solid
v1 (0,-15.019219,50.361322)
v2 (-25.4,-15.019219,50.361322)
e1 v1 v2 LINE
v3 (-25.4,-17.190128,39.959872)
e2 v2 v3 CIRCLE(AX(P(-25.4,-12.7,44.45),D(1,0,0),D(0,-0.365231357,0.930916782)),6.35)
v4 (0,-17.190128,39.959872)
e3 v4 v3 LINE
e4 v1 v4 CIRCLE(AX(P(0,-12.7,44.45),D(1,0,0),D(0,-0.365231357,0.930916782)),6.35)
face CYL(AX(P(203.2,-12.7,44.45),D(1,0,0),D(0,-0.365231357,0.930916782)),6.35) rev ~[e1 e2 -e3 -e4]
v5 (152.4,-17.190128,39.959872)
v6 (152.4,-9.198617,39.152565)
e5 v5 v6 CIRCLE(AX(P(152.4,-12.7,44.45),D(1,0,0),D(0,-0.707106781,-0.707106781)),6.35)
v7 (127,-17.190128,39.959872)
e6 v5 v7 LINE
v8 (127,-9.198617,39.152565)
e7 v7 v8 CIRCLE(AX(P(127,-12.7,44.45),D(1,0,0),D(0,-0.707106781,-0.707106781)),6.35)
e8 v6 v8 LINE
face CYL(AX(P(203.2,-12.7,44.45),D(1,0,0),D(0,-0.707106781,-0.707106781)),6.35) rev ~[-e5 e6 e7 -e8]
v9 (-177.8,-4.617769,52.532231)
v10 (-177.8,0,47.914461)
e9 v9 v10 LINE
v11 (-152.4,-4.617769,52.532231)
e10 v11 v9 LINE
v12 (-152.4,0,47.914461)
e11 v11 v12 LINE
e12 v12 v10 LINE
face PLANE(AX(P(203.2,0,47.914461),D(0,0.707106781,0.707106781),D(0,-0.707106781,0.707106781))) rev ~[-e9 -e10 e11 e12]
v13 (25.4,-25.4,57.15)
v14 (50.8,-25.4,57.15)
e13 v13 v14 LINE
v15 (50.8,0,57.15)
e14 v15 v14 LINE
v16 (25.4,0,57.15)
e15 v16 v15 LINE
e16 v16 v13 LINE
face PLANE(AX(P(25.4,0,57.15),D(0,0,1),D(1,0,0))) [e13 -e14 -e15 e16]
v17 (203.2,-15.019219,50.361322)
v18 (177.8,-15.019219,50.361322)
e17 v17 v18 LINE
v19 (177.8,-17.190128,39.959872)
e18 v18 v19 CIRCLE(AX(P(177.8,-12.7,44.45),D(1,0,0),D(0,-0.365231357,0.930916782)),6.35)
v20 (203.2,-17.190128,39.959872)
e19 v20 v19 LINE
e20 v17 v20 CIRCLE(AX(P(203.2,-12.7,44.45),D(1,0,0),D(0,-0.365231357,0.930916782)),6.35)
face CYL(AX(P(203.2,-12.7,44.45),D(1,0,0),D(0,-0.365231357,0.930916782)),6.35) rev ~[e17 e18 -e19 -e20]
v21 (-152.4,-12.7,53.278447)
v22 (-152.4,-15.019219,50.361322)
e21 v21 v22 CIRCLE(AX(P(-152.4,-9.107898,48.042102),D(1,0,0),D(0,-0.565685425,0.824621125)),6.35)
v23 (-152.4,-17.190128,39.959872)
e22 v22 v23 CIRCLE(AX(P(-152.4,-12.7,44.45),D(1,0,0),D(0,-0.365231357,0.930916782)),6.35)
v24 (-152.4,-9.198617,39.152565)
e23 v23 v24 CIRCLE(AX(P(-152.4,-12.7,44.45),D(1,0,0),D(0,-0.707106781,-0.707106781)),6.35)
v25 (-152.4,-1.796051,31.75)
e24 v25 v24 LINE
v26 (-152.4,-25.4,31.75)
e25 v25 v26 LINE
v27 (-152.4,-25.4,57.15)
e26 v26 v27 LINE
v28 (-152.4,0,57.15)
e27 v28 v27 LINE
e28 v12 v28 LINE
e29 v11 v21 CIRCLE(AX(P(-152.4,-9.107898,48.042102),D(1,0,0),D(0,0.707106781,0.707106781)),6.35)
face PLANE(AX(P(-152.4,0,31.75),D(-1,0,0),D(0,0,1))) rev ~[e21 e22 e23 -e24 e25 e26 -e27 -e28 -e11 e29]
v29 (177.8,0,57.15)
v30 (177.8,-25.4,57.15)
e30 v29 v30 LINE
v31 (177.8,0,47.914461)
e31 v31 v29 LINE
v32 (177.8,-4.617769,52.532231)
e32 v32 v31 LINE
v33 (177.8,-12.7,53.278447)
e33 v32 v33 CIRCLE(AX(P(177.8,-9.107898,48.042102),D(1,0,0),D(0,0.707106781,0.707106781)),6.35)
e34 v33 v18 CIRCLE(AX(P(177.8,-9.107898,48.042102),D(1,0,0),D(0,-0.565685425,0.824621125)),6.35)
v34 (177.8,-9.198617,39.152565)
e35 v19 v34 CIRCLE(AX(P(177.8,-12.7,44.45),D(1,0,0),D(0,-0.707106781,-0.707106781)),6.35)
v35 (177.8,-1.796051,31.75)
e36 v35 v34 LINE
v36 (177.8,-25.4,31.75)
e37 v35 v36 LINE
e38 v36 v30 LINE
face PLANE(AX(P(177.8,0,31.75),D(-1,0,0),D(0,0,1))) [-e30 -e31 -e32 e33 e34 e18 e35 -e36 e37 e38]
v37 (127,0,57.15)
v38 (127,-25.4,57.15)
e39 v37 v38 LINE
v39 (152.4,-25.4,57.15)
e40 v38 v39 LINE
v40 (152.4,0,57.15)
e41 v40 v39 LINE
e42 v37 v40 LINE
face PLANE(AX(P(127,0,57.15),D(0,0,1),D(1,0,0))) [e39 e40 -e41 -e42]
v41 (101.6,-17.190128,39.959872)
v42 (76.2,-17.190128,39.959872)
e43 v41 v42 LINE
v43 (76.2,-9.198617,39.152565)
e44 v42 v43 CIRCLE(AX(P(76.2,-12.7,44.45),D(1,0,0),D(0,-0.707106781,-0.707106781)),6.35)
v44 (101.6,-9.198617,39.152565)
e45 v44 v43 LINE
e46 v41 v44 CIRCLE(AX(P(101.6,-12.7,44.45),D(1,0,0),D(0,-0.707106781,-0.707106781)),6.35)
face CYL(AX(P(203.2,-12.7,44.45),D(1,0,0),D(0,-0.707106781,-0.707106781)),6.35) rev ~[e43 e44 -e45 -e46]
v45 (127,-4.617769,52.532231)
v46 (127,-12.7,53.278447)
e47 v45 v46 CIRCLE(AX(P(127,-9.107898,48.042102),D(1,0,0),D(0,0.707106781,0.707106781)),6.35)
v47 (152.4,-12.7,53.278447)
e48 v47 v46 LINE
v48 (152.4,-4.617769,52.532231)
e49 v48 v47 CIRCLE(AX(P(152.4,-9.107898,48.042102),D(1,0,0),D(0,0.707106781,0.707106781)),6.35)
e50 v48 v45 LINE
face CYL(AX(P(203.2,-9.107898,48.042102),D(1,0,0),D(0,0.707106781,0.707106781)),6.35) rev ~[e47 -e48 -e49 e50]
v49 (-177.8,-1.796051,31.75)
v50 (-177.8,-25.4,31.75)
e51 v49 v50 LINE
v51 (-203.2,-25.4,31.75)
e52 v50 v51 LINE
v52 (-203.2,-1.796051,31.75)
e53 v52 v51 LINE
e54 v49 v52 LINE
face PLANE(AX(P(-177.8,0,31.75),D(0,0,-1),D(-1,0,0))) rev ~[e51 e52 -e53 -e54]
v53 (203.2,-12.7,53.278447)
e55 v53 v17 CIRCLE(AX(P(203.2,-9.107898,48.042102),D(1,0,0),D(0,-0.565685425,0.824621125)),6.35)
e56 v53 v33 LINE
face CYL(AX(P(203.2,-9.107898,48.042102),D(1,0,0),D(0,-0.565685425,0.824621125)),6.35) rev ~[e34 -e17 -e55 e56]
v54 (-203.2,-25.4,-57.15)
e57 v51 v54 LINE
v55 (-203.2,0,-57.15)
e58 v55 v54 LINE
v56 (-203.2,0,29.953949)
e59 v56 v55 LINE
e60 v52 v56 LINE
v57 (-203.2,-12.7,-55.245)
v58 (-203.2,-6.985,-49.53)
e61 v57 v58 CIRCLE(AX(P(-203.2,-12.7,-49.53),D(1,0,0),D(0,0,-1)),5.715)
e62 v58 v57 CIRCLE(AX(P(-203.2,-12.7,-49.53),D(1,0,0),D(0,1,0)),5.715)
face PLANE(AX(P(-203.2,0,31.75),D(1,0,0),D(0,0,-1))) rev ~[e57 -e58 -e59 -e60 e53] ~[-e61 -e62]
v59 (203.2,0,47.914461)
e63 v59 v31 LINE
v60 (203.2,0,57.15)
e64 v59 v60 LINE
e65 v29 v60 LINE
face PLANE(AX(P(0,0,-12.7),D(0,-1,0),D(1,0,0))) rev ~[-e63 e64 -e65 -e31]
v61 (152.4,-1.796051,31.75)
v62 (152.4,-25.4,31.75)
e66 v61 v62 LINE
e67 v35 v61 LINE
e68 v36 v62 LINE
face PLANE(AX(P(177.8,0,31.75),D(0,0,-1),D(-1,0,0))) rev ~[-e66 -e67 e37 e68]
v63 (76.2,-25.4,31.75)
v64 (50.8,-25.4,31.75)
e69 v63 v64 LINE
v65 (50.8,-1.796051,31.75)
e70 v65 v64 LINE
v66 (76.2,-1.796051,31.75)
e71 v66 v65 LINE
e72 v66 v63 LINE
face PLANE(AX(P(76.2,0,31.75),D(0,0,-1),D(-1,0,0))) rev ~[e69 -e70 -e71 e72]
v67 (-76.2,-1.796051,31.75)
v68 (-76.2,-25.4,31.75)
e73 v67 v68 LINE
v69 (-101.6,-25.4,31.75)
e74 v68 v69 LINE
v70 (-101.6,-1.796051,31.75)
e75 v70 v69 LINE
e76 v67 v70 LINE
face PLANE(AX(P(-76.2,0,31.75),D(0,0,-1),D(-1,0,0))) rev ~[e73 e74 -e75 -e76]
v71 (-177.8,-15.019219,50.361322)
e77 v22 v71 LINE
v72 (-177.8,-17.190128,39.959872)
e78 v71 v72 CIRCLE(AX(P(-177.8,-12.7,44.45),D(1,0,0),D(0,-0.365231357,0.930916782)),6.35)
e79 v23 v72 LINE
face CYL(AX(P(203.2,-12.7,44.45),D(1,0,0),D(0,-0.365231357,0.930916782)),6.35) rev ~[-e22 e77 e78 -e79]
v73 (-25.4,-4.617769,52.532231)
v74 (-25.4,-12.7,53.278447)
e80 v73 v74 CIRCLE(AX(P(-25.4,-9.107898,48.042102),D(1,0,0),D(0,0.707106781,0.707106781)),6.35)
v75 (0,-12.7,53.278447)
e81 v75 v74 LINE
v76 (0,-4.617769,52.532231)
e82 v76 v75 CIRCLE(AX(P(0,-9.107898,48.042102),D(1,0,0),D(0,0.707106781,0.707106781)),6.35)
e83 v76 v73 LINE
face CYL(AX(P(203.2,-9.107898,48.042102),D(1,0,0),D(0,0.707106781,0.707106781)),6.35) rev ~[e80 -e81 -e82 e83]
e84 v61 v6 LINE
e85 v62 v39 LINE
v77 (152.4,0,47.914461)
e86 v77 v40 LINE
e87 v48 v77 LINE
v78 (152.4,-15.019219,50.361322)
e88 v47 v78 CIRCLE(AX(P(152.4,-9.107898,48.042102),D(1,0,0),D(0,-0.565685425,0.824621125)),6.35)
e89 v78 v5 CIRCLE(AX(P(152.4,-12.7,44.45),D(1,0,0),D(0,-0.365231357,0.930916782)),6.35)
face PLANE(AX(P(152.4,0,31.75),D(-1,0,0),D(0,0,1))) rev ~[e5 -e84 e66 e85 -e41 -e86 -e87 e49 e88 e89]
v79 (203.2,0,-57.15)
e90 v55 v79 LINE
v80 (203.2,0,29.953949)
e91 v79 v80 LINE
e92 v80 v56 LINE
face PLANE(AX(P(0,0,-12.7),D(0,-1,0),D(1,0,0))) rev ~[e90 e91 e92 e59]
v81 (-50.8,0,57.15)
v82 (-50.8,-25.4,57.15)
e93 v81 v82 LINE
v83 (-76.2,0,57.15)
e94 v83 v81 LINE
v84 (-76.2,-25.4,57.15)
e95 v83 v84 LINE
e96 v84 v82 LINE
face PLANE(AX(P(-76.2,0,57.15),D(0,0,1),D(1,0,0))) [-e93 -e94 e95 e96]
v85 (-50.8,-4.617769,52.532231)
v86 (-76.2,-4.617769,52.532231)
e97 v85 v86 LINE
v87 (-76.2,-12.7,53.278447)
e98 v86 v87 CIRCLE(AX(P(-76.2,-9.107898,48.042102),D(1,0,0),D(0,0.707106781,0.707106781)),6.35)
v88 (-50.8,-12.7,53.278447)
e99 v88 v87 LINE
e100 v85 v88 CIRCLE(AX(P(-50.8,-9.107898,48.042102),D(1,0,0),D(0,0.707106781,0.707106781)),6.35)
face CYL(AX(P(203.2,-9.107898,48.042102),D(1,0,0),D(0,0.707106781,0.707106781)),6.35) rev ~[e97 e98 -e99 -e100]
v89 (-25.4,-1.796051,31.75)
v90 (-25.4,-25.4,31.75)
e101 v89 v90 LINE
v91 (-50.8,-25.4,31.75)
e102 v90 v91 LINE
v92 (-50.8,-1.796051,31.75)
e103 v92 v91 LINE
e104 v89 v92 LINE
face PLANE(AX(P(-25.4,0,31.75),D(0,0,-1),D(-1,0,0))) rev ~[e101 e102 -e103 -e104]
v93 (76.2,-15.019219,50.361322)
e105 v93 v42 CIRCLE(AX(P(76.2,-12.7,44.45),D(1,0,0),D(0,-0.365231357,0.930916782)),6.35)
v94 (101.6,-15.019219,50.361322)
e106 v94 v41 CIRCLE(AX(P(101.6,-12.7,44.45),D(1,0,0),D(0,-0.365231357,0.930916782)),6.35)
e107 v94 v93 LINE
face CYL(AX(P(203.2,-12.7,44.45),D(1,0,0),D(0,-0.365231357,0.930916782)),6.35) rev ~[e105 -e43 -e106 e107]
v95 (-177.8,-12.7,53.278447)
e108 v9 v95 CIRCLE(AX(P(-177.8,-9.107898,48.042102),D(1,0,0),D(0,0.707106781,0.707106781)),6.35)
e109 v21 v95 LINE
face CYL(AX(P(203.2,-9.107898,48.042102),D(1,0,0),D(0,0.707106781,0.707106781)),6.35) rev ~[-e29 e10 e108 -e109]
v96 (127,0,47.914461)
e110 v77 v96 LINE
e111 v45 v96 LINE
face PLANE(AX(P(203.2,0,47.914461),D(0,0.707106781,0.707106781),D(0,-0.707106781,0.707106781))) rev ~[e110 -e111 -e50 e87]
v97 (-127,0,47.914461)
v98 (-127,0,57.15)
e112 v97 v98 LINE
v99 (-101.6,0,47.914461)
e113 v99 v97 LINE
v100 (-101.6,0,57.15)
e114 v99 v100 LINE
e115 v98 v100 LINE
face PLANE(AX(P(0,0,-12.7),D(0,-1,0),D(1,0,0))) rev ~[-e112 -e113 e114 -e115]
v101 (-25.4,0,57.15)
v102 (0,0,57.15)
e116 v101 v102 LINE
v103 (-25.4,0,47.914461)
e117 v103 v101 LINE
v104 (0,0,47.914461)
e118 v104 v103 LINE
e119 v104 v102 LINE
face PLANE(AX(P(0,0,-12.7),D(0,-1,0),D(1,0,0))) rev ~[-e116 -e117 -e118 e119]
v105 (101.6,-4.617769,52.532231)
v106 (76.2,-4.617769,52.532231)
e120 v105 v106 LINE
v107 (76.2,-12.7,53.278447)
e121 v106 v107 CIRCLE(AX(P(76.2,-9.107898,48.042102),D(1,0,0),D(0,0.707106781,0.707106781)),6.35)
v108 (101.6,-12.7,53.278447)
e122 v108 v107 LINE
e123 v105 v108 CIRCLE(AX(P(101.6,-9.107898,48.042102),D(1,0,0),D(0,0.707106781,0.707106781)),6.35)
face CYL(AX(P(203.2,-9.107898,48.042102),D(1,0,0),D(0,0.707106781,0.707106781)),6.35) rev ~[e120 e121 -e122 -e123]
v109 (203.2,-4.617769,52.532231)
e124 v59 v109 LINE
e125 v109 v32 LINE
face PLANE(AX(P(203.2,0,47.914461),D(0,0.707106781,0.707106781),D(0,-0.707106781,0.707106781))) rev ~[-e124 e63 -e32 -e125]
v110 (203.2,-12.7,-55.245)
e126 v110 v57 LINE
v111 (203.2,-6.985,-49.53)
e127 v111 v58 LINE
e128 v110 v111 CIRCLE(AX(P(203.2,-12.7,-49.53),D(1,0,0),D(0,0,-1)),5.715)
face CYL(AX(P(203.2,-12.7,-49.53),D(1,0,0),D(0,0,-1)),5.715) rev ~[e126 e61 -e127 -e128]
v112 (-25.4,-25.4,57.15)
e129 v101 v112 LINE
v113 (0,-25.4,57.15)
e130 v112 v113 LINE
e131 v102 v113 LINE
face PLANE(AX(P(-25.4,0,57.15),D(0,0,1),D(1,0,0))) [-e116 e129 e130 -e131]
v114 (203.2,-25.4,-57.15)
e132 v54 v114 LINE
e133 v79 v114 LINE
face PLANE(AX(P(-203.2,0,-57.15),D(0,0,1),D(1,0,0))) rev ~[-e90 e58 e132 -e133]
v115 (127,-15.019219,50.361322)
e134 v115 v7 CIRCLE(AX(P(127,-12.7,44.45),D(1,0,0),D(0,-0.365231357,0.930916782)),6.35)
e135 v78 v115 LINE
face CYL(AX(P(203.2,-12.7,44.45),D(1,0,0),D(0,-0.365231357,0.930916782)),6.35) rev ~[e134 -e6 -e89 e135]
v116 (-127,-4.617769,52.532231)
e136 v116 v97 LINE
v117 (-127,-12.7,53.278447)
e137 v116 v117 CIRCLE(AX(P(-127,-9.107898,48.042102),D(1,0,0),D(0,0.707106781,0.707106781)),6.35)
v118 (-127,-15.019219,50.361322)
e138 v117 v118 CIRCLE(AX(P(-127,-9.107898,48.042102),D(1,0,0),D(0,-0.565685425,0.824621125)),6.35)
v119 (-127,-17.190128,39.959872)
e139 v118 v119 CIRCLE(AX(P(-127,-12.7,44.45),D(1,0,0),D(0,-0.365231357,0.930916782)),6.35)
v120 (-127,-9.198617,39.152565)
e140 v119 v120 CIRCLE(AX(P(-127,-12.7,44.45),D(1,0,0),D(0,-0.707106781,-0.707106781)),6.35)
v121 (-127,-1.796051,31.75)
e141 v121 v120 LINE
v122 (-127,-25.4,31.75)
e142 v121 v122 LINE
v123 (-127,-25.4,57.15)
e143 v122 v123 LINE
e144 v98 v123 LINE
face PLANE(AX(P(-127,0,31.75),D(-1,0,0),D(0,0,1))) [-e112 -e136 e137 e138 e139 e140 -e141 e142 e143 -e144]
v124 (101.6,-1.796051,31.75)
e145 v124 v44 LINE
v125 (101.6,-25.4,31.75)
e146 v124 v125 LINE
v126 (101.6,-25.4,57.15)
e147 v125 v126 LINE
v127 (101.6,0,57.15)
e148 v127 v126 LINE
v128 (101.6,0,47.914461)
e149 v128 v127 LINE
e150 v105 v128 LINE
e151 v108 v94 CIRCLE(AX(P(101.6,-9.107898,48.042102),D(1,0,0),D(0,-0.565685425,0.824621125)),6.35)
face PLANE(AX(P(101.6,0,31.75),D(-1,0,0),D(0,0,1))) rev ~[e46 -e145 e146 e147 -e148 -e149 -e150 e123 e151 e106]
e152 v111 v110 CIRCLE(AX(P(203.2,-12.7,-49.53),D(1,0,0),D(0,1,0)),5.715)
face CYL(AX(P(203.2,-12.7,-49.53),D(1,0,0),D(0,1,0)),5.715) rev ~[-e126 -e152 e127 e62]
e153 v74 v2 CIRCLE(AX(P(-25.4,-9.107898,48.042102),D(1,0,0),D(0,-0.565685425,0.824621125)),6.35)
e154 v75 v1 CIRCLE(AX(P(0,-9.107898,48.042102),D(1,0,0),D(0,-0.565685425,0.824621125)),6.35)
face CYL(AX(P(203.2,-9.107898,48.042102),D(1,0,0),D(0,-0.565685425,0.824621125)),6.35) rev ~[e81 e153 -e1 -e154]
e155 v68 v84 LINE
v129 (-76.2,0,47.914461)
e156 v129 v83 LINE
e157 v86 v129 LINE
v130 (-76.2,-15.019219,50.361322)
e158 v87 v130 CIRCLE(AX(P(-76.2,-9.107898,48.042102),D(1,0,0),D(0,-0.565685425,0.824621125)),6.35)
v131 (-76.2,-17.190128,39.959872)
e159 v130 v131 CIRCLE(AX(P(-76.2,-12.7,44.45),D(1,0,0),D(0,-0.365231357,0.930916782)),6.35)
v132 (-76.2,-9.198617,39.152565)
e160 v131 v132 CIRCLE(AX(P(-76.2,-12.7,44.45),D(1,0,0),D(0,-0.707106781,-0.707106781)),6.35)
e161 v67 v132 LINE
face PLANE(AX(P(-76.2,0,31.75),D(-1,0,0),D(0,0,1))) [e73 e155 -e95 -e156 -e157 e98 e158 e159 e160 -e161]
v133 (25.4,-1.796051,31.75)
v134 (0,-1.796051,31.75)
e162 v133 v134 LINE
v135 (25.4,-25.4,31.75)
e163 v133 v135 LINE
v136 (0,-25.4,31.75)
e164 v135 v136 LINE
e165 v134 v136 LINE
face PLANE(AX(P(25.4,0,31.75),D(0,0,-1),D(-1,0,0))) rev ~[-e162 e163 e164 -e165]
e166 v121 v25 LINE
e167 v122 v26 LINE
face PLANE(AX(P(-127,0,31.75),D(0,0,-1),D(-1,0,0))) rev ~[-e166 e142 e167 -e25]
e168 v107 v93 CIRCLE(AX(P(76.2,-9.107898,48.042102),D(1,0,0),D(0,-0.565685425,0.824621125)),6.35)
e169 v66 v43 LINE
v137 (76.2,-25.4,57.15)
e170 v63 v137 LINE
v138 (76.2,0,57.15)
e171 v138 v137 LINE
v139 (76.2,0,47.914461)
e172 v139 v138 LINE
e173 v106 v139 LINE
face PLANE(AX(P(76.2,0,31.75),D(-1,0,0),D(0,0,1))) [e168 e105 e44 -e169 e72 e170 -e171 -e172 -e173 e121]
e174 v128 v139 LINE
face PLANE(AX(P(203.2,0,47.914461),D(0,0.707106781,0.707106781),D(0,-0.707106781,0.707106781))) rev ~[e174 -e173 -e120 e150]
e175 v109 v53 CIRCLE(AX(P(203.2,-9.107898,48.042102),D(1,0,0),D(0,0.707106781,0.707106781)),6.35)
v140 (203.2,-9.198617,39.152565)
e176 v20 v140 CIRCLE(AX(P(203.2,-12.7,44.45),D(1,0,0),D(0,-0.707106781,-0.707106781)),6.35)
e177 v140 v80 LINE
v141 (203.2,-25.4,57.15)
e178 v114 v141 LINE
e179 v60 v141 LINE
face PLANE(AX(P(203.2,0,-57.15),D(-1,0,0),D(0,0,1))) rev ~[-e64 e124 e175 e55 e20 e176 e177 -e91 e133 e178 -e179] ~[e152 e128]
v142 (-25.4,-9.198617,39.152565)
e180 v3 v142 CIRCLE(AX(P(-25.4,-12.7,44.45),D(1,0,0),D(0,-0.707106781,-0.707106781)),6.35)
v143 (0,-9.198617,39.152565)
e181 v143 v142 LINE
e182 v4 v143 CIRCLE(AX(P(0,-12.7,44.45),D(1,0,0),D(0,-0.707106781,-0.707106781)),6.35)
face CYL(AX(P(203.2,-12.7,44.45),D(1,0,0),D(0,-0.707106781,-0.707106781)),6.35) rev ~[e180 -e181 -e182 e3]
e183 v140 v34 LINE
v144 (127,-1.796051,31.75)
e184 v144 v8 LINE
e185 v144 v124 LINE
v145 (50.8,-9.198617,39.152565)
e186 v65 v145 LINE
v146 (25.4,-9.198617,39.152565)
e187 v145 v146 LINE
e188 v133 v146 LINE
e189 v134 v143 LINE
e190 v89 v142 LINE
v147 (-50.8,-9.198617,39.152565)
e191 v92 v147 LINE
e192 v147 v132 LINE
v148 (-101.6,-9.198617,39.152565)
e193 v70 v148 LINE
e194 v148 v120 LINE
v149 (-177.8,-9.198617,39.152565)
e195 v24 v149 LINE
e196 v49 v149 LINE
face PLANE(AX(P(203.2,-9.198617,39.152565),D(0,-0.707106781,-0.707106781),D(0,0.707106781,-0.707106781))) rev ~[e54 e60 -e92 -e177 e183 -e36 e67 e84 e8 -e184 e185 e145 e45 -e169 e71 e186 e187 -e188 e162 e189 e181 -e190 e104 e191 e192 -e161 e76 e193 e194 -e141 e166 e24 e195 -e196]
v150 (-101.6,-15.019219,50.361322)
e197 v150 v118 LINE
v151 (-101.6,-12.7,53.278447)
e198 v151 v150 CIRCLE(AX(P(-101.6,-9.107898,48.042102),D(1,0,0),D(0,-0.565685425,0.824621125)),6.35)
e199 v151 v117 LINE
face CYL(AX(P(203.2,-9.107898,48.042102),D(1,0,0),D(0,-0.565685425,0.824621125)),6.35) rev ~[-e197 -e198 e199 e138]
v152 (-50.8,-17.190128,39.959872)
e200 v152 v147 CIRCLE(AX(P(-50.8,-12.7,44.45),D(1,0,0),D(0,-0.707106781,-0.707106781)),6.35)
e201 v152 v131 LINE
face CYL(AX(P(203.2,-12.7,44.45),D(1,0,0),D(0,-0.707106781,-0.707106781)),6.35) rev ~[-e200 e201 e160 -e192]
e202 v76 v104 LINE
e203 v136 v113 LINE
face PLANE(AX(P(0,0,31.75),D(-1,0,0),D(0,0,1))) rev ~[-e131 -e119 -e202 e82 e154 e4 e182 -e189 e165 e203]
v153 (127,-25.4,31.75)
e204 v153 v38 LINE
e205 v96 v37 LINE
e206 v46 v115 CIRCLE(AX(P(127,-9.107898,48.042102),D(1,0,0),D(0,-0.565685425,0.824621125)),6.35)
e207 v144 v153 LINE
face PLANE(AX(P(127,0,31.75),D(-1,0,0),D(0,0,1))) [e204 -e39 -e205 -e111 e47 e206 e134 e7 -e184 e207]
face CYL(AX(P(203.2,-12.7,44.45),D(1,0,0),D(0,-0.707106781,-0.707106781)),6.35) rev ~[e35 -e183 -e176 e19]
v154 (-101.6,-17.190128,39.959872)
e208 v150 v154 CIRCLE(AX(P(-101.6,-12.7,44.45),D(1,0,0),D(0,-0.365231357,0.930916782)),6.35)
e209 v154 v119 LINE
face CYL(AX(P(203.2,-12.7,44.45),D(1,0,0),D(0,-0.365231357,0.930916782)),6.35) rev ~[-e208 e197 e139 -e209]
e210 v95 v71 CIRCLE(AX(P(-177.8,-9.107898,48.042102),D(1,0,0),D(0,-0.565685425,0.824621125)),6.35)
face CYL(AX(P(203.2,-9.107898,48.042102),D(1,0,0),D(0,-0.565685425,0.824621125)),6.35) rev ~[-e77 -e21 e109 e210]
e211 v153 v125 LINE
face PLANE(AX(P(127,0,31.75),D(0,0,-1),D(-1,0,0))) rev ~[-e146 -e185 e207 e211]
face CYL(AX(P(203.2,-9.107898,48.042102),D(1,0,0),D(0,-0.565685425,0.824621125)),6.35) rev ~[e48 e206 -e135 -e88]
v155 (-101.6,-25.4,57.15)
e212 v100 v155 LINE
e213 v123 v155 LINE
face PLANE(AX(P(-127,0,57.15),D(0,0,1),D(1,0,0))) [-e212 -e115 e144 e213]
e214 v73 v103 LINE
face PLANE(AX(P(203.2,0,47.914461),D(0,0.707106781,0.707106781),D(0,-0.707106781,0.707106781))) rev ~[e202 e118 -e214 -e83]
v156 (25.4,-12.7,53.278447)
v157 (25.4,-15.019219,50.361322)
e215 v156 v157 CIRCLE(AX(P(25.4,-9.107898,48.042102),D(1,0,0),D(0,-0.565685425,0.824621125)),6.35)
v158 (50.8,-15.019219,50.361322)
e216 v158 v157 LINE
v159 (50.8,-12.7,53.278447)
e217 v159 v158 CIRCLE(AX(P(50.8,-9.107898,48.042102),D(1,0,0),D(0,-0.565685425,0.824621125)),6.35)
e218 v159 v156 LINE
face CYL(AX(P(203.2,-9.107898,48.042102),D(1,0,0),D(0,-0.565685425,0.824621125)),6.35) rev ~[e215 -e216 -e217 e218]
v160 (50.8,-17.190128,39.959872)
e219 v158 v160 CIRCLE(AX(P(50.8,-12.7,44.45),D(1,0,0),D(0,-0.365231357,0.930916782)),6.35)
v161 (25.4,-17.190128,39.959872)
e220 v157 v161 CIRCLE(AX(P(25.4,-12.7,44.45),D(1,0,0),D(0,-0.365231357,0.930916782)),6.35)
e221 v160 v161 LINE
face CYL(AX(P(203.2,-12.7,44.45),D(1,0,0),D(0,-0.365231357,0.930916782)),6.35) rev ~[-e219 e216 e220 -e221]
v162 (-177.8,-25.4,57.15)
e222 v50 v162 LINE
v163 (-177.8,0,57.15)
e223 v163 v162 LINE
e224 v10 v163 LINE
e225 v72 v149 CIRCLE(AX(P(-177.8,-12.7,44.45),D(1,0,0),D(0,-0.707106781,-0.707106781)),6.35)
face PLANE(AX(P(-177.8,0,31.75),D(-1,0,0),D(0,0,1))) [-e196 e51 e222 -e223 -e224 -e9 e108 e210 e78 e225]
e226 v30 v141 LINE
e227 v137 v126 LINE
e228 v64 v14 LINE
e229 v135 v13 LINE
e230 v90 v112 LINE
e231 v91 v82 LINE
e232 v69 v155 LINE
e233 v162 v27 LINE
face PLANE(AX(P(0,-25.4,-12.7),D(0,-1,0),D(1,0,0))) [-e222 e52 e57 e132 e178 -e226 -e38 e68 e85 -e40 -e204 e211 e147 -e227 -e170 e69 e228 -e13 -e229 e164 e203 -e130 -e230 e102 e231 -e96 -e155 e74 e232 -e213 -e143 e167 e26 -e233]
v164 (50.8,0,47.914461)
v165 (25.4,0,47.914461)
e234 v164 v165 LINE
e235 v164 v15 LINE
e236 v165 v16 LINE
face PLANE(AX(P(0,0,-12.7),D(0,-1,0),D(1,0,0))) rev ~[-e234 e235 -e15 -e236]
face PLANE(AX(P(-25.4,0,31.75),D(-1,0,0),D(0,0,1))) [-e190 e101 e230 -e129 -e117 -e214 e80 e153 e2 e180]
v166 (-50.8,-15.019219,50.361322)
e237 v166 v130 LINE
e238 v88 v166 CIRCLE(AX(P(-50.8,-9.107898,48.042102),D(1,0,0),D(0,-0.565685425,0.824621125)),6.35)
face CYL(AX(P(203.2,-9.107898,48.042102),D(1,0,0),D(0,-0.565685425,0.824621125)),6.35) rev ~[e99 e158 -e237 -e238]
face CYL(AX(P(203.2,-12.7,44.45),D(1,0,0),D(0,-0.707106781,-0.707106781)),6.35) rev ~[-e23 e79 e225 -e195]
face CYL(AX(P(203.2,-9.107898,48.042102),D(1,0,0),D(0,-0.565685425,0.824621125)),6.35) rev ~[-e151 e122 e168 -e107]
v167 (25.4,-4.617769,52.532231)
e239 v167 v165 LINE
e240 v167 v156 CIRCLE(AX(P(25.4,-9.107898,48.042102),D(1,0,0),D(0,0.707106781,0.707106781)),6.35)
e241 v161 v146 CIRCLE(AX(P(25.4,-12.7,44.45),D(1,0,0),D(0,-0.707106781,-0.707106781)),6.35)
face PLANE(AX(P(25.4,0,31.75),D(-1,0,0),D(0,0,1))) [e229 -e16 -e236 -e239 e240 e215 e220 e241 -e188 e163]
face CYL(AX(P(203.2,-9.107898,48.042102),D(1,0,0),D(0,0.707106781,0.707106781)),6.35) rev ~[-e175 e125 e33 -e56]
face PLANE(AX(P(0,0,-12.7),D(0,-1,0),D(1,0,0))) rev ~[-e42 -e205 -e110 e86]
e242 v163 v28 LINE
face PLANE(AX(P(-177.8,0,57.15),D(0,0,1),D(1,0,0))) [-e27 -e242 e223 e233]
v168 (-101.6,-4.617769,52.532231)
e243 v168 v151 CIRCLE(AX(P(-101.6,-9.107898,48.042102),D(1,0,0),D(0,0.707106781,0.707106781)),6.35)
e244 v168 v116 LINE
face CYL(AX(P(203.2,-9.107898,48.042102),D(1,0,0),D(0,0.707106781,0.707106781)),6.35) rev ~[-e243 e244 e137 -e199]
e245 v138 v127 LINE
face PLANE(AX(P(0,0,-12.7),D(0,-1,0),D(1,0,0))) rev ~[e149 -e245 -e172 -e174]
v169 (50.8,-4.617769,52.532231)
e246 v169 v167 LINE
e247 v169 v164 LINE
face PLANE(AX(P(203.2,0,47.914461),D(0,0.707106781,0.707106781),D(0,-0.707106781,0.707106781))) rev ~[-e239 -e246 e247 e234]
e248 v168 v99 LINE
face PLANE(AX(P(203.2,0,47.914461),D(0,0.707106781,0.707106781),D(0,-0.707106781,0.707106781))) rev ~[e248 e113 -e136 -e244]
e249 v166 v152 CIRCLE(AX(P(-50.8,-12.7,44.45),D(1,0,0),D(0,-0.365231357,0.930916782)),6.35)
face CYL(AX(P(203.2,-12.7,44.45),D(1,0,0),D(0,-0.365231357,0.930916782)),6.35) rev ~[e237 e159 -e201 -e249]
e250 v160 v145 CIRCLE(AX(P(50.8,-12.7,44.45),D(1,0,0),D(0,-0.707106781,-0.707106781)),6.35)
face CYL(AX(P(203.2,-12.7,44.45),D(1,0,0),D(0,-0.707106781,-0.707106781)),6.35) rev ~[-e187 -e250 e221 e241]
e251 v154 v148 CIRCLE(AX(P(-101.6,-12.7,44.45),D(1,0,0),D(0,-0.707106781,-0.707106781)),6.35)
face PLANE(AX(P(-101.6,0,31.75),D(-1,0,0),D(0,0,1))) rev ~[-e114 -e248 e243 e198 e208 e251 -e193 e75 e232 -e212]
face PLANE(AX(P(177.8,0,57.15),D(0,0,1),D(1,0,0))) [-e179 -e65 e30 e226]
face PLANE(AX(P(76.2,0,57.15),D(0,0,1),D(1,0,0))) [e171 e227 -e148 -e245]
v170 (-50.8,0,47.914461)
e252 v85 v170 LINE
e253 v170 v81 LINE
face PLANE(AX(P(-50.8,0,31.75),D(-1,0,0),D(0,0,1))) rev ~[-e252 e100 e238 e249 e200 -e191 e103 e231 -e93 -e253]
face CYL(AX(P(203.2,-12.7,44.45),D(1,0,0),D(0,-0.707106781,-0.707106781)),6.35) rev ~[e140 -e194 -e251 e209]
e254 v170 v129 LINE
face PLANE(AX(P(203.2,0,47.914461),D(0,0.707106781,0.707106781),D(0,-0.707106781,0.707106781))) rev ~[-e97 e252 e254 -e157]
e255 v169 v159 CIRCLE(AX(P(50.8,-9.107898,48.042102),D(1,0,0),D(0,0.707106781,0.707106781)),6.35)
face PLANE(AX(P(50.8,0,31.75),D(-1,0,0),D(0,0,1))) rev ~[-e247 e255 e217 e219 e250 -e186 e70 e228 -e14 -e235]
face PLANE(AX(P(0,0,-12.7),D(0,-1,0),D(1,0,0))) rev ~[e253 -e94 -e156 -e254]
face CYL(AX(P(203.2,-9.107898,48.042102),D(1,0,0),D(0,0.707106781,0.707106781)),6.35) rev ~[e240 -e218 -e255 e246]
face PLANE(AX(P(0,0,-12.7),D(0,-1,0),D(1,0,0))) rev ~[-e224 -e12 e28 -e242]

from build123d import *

# Parameters (mm, degrees)
F0_W     = 25.4
F0_H     = 25.4
F1_DEPTH = 25.4
F3_DEPTH = 412.75
F5_DEPTH = 598.932


with BuildPart() as f1:
    # F0 (on Front) → F1 (new body)
    with BuildSketch(Plane.XZ):
        Polygon((-203.2, -57.15), (203.2, -57.15), (203.2, 31.75), (177.8, 31.75), (152.4, 31.75), (127, 31.75), (101.6, 31.75), (76.2, 31.75), (50.8, 31.75), (25.4, 31.75), (0, 31.75), (-25.4, 31.75), (-50.8, 31.75), (-76.2, 31.75), (-101.6, 31.75), (-127, 31.75), (-152.4, 31.75), (-177.8, 31.75), (-203.2, 31.75), align=None)
        with Locations((190.5, 44.45)):
            Rectangle(F0_W, F0_H)
        with Locations((139.7, 44.45)):
            Rectangle(F0_W, F0_H)
        with Locations((88.9, 44.45)):
            Rectangle(F0_W, F0_H)
        with Locations((38.1, 44.45)):
            Rectangle(F0_W, F0_H)
        with Locations((-12.7, 44.45)):
            Rectangle(F0_W, F0_H)
        with Locations((-63.5, 44.45)):
            Rectangle(F0_W, F0_H)
        with Locations((-114.3, 44.45)):
            Rectangle(F0_W, F0_H)
        with Locations((-165.1, 44.45)):
            Rectangle(F0_W, F0_H)
    extrude(amount=F1_DEPTH)

    # F2 (on face) → F3 (cut)
    with BuildSketch(Plane.YZ.offset(203.2)):
        with BuildLine():
            ThreePointArc((-4.617769491, 52.532230509), (-8.5240978333, 54.3652091128), (-12.7, 53.278446593))
            Line((-12.7, 53.278446593), (-12.7, 50.8))
            ThreePointArc((-12.7, 50.8), (-10.2699602045, 50.3166350314), (-8.2098719395, 48.9401280605))
            Line((-8.2098719395, 48.9401280605), (-4.617769491, 52.532230509))
        make_face()
        with BuildLine():
            Line((-12.7, 50.8), (-12.7, 53.278446593))
            ThreePointArc((-12.7, 53.278446593), (-14.0784278664, 51.9938524898), (-15.0192191193, 50.3613215677))
            ThreePointArc((-15.0192191193, 50.3613215677), (-13.8801711836, 50.6893666327), (-12.7, 50.8))
        make_face()
        with BuildLine():
            ThreePointArc((-8.2098719395, 48.9401280605), (-10.2699602045, 50.3166350314), (-12.7, 50.8))
            Line((-12.7, 50.8), (-12.7, 44.45))
            Line((-12.7, 44.45), (-8.2098719395, 48.9401280605))
        make_face()
        with BuildLine():
            Line((-12.7, 44.45), (-12.7, 50.8))
            ThreePointArc((-12.7, 50.8), (-13.8801711836, 50.6893666327), (-15.0192191193, 50.3613215677))
            ThreePointArc((-15.0192191193, 50.3613215677), (-15.3239526387, 46.744736211), (-13.5980256121, 43.5519743879))
            Line((-13.5980256121, 43.5519743879), (-12.7, 44.45))
        make_face()
        with BuildLine():
            ThreePointArc((-13.5980256121, 43.5519743879), (-15.3239526387, 46.744736211), (-15.0192191193, 50.3613215677))
            ThreePointArc((-15.0192191193, 50.3613215677), (-18.9160550871, 45.7473662374), (-17.1901280605, 39.9598719395))
            Line((-17.1901280605, 39.9598719395), (-13.5980256121, 43.5519743879))
        make_face()
        with BuildLine():
            Line((-8.2098719395, 48.9401280605), (-12.7, 44.45))
            Line((-12.7, 44.45), (-13.5980256121, 43.5519743879))
            Line((-13.5980256121, 43.5519743879), (-9.1986165609, 39.1525653367))
            ThreePointArc((-9.1986165609, 39.1525653367), (-7.1073134882, 41.4426161567), (-6.35, 44.45))
            ThreePointArc((-6.35, 44.45), (-6.8333649686, 46.8800397955), (-8.2098719395, 48.9401280605))
        make_face()
        with BuildLine():
            Line((-13.5980256121, 43.5519743879), (-17.1901280605, 39.9598719395))
            ThreePointArc((-17.1901280605, 39.9598719395), (-13.3382319087, 38.1321554284), (-9.1986165609, 39.1525653367))
            Line((-9.1986165609, 39.1525653367), (-13.5980256121, 43.5519743879))
        make_face()
        with BuildLine():
            Line((0, 40.7302561211), (-8.2098719395, 48.9401280605))
            ThreePointArc((-8.2098719395, 48.9401280605), (-6.8333649686, 46.8800397955), (-6.35, 44.45))
            ThreePointArc((-6.35, 44.45), (-7.1073134882, 41.4426161567), (-9.1986165609, 39.1525653367))
            Line((-9.1986165609, 39.1525653367), (0, 29.9539487758))
            Line((0, 29.9539487758), (0, 40.7302561211))
        make_face()
        Polygon((0, 47.9144610179), (-4.617769491, 52.532230509), (-8.2098719395, 48.9401280605), (0, 40.7302561211), align=None)
    extrude(amount=-F3_DEPTH, mode=Mode.SUBTRACT)

    # F4 (on face) → F5 (cut)
    with BuildSketch(Plane.YZ.offset(203.2)):
        with BuildLine():
            ThreePointArc((-12.7, -55.245), (-8.6588847455, -53.5711152545), (-6.985, -49.53))
            ThreePointArc((-6.985, -49.53), (-16.7411152545, -45.4888847455), (-12.7, -55.245))
        make_face()
    extrude(amount=-F5_DEPTH, mode=Mode.SUBTRACT)


solid = f1.part
